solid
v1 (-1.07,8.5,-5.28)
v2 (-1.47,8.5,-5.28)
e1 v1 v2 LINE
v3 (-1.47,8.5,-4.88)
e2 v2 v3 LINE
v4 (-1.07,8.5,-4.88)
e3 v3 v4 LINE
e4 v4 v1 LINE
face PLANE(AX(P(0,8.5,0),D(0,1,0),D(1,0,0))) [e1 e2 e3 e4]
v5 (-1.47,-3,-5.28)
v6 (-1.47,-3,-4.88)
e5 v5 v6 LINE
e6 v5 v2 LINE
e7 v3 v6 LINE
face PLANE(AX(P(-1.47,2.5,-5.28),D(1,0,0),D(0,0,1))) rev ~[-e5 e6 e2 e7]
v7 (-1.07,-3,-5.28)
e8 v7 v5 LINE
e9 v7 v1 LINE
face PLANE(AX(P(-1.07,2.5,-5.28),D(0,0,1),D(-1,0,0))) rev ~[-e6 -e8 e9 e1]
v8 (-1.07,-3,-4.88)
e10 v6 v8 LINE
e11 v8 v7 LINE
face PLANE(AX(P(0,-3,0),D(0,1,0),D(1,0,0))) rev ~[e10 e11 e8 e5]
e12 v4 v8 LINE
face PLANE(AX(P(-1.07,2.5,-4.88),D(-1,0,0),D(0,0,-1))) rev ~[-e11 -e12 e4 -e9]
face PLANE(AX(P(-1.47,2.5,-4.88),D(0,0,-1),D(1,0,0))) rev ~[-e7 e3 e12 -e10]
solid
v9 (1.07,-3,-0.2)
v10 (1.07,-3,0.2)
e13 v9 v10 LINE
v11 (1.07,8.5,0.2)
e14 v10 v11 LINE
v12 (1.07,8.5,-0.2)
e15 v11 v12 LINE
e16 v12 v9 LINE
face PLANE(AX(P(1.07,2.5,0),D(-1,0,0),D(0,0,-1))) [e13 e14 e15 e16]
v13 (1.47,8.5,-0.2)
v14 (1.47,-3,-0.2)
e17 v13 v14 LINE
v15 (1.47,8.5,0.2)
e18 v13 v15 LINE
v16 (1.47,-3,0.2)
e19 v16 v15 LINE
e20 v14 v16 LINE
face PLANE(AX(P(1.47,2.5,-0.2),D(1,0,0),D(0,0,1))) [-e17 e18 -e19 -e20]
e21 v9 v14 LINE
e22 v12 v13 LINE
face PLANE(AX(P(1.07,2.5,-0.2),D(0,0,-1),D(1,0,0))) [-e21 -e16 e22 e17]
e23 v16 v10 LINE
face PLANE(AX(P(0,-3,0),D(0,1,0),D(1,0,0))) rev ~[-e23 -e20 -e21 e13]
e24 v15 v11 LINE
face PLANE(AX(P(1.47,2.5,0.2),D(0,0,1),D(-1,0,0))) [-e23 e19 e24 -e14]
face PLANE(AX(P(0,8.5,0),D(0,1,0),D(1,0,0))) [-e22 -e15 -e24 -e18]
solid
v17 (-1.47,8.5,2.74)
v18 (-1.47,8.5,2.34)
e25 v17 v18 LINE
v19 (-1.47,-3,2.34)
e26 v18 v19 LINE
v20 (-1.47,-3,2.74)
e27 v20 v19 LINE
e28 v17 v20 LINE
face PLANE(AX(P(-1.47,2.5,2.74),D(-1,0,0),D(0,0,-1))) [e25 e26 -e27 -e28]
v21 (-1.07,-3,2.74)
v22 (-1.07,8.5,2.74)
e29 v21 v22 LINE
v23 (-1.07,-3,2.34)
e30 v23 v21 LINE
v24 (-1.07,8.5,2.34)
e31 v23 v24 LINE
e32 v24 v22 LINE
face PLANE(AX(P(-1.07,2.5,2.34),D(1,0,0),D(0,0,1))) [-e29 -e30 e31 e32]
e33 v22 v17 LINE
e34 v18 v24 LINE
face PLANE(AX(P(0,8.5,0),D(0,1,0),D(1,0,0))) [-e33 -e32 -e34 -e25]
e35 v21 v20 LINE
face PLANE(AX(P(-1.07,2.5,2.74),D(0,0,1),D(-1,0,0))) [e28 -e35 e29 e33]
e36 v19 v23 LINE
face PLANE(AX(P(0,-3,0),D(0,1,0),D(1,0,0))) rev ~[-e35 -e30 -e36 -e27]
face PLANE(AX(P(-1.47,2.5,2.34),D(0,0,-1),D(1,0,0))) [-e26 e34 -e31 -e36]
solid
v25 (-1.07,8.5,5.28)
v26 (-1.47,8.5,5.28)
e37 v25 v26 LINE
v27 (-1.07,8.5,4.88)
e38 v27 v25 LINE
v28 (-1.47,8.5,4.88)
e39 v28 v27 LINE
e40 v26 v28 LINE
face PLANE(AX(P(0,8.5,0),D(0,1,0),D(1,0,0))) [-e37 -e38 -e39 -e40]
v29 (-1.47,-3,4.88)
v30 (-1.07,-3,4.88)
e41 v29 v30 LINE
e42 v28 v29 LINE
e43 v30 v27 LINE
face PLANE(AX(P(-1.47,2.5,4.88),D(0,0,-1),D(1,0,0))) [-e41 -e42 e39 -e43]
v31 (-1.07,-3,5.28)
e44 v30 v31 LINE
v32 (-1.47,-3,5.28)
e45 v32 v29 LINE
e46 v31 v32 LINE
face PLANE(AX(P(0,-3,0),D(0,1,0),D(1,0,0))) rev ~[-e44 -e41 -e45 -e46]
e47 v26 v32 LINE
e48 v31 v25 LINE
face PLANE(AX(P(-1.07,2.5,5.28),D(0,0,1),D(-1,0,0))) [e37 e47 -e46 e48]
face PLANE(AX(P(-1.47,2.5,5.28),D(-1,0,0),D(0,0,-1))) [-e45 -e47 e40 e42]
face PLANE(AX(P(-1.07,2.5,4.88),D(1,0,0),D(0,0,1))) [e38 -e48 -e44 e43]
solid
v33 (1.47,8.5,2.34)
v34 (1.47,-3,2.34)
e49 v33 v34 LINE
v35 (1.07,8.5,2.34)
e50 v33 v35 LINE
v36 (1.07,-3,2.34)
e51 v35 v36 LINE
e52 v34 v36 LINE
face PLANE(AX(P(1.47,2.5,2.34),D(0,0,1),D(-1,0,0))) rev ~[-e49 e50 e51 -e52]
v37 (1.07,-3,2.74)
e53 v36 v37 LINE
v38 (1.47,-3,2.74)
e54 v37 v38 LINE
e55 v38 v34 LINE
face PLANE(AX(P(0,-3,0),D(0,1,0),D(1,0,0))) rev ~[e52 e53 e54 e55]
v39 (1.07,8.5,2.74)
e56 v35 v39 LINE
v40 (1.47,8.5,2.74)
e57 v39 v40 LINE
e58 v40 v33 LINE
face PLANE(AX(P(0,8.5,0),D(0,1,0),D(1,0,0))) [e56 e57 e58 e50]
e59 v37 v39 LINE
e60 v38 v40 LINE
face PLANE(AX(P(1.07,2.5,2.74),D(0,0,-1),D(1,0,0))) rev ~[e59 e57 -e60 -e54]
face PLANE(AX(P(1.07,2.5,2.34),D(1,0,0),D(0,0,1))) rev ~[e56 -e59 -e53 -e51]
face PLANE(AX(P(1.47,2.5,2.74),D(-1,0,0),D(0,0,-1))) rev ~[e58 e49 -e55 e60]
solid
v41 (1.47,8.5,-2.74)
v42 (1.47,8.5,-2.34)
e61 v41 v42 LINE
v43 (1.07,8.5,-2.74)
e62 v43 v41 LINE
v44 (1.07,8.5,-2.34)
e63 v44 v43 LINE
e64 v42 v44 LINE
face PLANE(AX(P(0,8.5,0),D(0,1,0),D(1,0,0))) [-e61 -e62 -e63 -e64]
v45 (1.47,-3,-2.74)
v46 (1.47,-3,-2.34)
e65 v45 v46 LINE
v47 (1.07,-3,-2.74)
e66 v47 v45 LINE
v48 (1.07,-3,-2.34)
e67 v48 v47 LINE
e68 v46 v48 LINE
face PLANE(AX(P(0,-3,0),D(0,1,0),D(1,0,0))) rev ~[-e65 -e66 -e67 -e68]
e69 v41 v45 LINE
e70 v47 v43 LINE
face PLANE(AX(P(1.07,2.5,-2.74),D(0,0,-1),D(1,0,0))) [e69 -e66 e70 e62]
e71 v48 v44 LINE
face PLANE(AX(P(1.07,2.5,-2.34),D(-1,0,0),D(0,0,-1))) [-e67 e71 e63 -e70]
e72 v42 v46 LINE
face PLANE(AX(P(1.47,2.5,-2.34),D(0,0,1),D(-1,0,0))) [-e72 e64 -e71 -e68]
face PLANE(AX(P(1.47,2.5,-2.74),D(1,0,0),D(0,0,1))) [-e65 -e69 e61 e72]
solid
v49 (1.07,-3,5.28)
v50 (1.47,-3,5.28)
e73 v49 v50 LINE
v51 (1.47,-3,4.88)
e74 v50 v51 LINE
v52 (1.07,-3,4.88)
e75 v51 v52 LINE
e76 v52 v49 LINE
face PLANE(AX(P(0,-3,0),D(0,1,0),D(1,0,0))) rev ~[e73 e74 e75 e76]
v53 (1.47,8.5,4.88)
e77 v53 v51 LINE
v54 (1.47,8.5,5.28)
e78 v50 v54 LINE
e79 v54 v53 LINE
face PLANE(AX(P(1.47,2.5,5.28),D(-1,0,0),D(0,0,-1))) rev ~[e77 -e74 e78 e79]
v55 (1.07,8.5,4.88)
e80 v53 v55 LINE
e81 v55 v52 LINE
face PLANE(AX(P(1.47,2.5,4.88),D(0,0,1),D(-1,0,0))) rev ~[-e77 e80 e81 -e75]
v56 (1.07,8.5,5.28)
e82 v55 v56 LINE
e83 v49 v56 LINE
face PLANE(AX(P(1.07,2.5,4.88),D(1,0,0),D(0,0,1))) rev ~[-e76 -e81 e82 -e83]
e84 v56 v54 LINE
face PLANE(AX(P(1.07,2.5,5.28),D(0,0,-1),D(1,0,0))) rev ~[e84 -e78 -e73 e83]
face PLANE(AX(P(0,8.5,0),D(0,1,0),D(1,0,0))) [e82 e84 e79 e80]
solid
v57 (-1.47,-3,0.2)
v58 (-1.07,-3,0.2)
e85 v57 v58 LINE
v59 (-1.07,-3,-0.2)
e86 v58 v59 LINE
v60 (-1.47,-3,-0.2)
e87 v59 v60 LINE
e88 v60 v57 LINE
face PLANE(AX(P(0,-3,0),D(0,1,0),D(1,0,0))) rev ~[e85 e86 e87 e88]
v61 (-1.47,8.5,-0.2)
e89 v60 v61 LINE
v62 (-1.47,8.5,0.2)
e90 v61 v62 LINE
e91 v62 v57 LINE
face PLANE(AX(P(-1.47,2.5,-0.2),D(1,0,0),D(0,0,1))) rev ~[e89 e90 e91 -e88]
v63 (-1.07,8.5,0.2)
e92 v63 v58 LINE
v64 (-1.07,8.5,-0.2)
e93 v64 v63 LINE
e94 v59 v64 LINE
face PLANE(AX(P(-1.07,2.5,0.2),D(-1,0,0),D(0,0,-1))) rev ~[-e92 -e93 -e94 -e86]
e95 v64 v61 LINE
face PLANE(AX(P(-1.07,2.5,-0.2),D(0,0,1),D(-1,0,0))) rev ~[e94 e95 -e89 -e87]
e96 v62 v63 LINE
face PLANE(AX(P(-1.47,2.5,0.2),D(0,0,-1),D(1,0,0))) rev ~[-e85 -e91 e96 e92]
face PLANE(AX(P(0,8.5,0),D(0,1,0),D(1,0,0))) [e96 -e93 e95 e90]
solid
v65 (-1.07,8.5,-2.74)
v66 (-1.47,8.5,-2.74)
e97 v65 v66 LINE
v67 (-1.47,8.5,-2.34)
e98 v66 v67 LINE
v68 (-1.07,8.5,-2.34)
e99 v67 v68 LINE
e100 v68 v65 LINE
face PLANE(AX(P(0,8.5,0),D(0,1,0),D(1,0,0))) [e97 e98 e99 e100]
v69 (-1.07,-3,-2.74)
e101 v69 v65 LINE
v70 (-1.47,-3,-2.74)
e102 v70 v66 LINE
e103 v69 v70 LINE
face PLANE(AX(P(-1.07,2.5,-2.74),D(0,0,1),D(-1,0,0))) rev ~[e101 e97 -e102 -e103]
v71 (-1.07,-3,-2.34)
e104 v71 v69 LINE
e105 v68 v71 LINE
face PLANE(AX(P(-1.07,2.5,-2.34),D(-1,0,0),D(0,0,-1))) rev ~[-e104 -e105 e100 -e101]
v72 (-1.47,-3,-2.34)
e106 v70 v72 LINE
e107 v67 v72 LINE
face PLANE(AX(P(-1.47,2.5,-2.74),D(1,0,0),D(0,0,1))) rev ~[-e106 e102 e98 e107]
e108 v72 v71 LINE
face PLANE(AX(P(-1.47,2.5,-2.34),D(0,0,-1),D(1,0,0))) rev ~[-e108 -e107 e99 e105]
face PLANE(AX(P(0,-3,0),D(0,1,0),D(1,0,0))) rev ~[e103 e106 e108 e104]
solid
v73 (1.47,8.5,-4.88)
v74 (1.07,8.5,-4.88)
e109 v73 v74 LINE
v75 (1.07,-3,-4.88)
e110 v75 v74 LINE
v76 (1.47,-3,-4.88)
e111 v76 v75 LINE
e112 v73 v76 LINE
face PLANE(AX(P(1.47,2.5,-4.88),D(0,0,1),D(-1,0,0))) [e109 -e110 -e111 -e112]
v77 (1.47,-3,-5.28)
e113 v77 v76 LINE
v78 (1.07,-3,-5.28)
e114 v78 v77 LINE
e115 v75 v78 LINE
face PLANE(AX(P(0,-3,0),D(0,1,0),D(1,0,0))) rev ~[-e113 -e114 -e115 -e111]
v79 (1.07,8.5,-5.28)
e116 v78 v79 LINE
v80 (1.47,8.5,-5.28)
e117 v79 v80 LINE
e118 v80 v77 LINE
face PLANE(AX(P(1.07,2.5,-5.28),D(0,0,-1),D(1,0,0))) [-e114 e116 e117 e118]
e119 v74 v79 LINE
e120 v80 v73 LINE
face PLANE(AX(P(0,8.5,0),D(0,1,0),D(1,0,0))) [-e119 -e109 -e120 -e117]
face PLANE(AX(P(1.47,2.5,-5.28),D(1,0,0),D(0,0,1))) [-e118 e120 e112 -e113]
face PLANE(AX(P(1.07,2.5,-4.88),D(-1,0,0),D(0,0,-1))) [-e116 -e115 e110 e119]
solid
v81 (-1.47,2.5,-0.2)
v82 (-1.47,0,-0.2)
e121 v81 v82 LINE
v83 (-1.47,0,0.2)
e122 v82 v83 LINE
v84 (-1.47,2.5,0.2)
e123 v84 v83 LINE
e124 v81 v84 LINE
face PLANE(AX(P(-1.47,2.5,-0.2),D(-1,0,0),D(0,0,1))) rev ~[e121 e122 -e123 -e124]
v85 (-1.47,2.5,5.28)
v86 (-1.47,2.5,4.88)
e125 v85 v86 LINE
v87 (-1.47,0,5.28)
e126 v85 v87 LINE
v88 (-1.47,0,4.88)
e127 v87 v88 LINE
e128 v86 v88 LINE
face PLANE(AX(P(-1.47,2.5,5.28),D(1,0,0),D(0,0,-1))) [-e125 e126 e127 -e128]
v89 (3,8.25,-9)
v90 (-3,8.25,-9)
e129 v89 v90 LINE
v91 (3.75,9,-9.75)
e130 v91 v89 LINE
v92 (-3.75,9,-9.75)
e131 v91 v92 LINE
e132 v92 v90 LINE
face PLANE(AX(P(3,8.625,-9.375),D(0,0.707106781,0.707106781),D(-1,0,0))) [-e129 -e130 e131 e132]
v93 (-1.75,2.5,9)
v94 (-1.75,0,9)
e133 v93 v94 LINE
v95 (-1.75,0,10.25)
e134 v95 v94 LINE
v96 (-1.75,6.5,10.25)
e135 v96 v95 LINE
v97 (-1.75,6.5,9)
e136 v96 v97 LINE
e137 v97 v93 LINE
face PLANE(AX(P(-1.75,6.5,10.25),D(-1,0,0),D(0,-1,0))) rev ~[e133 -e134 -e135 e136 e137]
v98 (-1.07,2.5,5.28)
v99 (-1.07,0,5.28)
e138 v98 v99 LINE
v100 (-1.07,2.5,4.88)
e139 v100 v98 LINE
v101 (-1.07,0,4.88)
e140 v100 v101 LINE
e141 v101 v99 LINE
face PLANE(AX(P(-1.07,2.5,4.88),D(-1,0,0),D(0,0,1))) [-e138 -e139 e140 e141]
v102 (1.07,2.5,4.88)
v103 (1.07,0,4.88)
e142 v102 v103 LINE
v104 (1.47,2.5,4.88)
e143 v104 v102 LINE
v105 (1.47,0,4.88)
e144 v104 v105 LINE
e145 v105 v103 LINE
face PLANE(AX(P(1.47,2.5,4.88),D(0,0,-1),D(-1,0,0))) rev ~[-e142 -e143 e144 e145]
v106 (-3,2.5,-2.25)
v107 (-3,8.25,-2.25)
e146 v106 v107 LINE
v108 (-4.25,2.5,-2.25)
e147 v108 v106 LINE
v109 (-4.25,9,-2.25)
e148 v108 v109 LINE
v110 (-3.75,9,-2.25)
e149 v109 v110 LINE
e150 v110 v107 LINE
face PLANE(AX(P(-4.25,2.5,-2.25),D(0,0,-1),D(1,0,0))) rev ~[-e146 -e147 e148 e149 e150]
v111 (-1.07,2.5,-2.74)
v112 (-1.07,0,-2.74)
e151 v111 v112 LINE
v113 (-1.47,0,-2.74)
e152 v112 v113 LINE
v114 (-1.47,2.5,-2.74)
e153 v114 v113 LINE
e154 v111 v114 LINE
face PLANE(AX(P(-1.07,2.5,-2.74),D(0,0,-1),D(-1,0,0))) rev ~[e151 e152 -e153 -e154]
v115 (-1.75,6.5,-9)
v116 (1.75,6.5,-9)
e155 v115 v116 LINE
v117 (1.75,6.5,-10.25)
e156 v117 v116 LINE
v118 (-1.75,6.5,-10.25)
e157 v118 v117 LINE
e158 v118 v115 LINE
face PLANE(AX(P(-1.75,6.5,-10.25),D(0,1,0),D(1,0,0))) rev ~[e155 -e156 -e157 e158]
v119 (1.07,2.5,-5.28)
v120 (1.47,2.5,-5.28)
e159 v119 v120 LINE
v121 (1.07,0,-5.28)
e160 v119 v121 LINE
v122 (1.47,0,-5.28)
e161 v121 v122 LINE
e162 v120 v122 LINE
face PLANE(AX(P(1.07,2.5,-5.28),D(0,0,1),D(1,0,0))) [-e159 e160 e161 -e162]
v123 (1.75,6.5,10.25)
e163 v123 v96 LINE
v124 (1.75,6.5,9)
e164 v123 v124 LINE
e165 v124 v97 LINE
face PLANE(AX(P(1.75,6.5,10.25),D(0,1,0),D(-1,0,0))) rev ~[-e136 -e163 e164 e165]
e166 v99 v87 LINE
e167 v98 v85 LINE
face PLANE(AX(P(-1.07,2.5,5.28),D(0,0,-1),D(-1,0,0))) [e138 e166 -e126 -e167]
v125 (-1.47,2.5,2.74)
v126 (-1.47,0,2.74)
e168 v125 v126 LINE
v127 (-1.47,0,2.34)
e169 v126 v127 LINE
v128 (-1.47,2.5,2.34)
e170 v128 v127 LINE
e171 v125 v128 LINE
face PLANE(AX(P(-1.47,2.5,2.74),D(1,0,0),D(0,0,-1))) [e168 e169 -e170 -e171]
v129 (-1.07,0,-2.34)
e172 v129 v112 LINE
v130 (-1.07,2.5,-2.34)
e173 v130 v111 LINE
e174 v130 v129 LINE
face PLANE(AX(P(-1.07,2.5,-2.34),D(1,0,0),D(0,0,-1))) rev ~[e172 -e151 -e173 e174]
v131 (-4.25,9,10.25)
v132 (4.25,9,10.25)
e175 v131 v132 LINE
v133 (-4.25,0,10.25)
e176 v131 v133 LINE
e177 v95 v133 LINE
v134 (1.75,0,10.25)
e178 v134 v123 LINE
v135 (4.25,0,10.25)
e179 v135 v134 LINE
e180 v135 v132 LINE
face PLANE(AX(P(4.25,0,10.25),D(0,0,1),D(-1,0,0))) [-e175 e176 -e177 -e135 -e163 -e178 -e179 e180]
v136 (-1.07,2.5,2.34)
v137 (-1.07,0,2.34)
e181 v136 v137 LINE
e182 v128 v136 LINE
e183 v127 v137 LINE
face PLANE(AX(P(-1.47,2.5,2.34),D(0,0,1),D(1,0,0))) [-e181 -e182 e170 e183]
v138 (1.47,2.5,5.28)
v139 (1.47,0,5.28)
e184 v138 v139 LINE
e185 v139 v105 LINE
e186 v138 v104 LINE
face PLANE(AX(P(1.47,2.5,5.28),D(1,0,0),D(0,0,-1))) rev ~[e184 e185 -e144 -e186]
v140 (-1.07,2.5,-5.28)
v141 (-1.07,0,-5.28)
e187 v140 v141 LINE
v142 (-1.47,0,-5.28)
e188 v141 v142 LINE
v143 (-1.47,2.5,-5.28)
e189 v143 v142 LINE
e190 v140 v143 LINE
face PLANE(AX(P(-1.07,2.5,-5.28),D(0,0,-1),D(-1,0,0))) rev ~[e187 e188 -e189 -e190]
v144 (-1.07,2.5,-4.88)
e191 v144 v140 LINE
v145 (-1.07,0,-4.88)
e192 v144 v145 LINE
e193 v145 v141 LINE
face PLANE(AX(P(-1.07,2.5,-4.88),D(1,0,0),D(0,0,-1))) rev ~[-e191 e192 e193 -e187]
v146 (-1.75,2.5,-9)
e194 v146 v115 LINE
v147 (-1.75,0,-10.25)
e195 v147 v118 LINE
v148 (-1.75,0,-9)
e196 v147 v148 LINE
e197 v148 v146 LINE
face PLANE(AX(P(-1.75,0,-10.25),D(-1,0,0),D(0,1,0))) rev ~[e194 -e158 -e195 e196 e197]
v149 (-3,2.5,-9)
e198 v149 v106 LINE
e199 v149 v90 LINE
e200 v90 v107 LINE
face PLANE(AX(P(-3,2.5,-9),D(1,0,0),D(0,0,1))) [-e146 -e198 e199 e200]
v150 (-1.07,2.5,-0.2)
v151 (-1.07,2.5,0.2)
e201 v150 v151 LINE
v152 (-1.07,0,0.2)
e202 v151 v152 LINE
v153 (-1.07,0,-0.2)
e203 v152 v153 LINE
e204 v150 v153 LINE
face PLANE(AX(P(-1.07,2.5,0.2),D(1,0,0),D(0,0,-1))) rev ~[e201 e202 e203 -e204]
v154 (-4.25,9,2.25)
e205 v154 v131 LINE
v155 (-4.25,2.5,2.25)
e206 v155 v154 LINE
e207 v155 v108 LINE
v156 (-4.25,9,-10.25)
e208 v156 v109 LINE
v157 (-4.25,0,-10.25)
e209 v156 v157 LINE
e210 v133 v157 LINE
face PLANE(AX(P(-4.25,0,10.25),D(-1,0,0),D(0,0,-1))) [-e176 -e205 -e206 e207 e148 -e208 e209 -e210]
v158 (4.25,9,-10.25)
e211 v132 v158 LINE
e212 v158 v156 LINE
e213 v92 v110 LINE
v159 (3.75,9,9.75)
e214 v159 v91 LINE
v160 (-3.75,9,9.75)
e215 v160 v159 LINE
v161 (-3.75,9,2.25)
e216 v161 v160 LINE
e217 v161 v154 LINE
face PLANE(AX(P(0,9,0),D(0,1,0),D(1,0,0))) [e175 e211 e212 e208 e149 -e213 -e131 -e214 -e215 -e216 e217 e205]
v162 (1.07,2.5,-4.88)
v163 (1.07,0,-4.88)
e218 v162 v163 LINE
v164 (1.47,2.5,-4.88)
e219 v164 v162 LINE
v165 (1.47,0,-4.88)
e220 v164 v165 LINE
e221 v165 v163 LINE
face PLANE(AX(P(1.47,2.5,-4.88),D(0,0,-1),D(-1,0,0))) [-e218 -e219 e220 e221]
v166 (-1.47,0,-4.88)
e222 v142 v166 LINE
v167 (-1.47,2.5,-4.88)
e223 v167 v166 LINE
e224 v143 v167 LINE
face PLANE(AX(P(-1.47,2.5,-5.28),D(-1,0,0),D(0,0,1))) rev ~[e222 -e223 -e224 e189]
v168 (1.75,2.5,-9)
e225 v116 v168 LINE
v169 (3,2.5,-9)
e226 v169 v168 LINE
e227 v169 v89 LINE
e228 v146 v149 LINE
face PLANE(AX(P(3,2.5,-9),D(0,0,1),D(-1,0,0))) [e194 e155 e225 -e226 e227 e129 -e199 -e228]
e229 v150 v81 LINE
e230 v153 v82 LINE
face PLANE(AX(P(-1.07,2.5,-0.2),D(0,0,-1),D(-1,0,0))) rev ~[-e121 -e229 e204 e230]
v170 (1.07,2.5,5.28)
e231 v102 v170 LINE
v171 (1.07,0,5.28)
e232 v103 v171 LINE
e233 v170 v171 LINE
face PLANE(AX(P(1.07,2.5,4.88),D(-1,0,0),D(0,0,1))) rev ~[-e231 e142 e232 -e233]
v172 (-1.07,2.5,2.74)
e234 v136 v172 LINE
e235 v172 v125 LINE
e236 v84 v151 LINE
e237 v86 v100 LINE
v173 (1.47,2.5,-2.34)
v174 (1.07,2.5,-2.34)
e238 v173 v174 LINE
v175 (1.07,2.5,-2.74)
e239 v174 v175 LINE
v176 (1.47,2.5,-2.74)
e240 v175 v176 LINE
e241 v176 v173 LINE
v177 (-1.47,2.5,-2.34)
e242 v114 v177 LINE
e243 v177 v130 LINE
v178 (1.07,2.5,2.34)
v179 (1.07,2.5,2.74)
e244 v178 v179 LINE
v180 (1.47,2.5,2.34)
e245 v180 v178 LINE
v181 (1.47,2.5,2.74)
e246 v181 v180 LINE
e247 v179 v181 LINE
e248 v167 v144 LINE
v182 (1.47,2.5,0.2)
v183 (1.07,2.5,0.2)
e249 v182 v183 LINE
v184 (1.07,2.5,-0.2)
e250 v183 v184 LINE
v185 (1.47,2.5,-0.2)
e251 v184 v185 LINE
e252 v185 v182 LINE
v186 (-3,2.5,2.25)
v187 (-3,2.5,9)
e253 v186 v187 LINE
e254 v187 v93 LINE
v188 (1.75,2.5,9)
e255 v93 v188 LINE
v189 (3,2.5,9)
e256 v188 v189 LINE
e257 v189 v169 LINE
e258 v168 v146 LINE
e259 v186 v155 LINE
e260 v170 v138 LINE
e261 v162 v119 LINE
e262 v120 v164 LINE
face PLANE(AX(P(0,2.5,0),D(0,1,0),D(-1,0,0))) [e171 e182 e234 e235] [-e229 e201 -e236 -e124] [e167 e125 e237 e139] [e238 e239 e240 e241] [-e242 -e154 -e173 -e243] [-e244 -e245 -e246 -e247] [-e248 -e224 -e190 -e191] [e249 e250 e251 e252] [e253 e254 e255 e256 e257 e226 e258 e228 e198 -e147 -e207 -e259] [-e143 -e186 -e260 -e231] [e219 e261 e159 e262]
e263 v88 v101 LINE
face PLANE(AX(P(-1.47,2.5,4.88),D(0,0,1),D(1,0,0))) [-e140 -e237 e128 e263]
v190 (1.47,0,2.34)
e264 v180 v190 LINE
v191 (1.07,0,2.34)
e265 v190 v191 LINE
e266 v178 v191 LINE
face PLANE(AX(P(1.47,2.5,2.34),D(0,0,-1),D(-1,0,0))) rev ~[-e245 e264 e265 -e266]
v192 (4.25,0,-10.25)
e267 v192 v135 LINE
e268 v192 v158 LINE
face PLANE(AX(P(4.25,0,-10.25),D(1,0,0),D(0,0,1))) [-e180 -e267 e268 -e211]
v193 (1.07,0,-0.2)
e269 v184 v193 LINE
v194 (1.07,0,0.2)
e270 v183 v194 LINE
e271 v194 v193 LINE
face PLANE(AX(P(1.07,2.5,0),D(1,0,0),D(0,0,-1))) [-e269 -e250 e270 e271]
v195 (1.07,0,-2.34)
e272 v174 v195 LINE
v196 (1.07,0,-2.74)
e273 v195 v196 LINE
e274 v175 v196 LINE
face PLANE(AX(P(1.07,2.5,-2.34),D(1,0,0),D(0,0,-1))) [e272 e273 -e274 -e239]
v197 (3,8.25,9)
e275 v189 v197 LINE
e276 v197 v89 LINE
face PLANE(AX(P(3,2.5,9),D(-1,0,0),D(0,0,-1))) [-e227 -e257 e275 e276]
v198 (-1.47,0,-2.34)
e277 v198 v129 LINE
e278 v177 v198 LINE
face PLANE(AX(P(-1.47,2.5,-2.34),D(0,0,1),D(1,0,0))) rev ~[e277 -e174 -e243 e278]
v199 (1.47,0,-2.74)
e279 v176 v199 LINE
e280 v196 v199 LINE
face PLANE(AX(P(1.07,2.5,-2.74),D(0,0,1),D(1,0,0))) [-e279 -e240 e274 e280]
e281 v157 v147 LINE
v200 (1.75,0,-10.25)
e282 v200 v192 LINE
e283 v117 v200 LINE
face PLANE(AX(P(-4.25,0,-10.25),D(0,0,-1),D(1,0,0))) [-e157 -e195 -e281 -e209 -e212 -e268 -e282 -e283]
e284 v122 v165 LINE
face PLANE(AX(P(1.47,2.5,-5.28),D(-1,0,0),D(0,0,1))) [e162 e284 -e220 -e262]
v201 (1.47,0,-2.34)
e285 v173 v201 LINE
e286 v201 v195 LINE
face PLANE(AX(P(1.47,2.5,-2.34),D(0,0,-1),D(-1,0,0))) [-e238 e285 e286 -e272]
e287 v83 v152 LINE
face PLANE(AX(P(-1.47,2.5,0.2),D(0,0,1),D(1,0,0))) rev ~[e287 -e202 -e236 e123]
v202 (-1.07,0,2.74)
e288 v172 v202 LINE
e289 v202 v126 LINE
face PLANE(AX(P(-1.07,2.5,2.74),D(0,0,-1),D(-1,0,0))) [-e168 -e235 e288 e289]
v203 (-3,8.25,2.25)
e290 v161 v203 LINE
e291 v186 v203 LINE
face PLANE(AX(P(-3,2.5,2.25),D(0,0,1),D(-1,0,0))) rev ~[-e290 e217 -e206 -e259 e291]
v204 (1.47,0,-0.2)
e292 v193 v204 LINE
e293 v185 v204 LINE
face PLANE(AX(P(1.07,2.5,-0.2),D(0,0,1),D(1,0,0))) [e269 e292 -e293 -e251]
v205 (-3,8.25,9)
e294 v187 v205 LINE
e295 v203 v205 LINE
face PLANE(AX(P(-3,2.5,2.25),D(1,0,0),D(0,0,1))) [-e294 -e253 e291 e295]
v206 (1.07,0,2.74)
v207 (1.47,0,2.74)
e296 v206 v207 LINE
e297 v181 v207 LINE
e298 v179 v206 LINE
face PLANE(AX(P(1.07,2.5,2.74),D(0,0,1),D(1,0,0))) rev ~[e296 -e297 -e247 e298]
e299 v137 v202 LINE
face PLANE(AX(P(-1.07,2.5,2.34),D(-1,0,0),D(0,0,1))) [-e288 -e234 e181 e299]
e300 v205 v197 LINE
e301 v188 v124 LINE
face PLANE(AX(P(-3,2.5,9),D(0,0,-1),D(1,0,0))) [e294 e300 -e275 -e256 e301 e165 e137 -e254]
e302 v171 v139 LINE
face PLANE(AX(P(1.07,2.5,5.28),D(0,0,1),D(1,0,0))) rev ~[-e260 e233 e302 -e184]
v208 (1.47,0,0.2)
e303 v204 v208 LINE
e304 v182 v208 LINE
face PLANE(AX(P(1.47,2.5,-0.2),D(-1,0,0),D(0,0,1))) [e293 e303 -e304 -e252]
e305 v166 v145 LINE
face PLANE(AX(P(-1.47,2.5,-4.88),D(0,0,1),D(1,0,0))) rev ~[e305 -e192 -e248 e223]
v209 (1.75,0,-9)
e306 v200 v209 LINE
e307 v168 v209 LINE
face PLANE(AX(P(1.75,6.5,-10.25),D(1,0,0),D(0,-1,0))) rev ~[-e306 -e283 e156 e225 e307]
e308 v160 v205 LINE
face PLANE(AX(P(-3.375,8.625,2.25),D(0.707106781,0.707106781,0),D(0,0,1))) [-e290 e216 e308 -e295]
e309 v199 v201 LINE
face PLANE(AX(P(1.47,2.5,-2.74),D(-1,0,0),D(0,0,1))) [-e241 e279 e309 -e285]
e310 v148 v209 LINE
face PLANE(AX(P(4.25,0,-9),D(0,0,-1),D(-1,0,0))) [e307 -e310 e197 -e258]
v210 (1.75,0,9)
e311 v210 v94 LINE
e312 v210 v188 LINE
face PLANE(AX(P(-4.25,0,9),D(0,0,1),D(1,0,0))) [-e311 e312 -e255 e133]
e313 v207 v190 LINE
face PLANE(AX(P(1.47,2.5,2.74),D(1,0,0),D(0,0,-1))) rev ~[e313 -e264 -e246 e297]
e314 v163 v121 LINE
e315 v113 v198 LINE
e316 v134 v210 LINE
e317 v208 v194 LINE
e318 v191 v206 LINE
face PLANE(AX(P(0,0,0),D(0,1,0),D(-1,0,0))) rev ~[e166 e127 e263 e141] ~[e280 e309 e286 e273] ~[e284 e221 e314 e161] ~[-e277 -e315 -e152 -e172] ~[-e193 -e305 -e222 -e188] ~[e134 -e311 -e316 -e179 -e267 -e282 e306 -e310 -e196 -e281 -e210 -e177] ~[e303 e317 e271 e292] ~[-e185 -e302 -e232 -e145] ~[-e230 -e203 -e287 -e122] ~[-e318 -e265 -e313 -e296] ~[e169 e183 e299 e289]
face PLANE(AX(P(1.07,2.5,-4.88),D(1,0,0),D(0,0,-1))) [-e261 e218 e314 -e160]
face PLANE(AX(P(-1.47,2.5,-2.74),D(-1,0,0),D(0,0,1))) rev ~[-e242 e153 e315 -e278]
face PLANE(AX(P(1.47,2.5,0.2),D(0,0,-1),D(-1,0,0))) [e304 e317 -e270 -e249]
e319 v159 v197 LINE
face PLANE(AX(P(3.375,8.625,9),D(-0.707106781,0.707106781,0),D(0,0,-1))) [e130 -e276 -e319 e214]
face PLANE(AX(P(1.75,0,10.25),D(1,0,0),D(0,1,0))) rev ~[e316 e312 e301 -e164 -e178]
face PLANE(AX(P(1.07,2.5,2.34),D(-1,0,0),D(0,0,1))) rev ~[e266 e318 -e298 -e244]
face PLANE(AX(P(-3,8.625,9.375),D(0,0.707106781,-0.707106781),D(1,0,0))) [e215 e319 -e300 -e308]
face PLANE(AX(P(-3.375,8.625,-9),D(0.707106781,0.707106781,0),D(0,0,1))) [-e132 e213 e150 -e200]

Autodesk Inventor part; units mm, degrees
ref_plane "YZ Plane" through (0, 0, 0) normal (1, 0, 0) x (0, 1, 0)
ref_plane "XZ Plane" through (0, 0, 0) normal (0, 1, 0) x (-1, 0, 0)
ref_plane "XY Plane" through (0, 0, 0) normal (0, 0, 1) x (1, 0, 0)
sketch "Sketch1" plane through (0, 0, 0) normal (0, 1, 0) x (-1, 0, 0)
  line L0 (-4.25, 10.25) -> (4.25, 10.25)
  line L1 (4.25, 10.25) -> (4.25, -10.25)
  line L2 (4.25, -10.25) -> (-4.25, -10.25)
  line L3 (-4.25, -10.25) -> (-4.25, 10.25)
  line L4 (-4.25, 10.25) -> (4.25, -10.25) construction
  line L5 (4.25, 10.25) -> (-4.25, -10.25) construction
  point P0 (0, 0)
  dimension "d0" = 8.5
  dimension "d1" = 20.5
extrude "Extrusion1" add sketch "Sketch1" along normal blind 2.5
sketch "Sketch2" plane through (0, 2.5, 0) normal (0, 1, 0) x (1, 0, 0)
  line L0 (-4.25, -10.25) -> (4.25, -10.25) projected
  line L1 (4.25, -10.25) -> (4.25, 10.25) projected
  line L2 (-4.25, -10.25) -> (4.25, -10.25)
  line L3 (4.25, -10.25) -> (4.25, 10.25)
  line L4 (4.25, 10.25) -> (-4.25, 10.25)
  line L5 (-4.25, 10.25) -> (-4.25, -10.25)
  line L6 (-3, -9) -> (3, -9)
  line L7 (3, -9) -> (3, 9)
  line L8 (3, 9) -> (-3, 9)
  line L9 (-3, 9) -> (-3, -9)
  line L10 (-3, -9) -> (3, 9) construction
  line L11 (3, -9) -> (-3, 9) construction
  line L12 (-4.25, 10.25) -> (-4.25, -10.25) projected
  line L13 (-4.25, 0) -> (-3, 0)
  line L14 (-3, -2.25) -> (-4.25, -2.25)
  line L15 (-4.25, -2.25) -> (-4.25, 2.25)
  line L16 (-4.25, 2.25) -> (-3, 2.25)
  line L17 (-3, 2.25) -> (-3, -2.25)
  line L18 (-3, -2.25) -> (-4.25, 2.25) construction
  line L19 (-4.25, -2.25) -> (-3, 2.25) construction
  point P0 (0, 0)
  point P1 (-3.625, 0)
  dimension "d4" = 6
  dimension "d5" = 18
  dimension "d6" = 4.5
extrude "Extrusion2" add sketch "Sketch2" along normal blind 6.5 contours L5 L14 L9 L6 L7 L8 L16 L4 L1 L0
sketch "Sketch3" plane through (-4.25, 0, 10.25) normal (0, 0, 1) x (1, 0, 0)
  line L0 (4.25, 0) -> (4.25, 3.25)
  line L1 (2.5, 0) -> (6, 0)
  line L2 (6, 0) -> (6, 6.5)
  line L3 (6, 6.5) -> (2.5, 6.5)
  line L4 (2.5, 6.5) -> (2.5, 0)
  line L5 (2.5, 0) -> (6, 6.5) construction
  line L6 (6, 0) -> (2.5, 6.5) construction
  dimension "d9" = 3.25
  dimension "d10" = 3.5
  dimension "d11" = 6.5
extrude "Extrusion3" cut sketch "Sketch3" against normal blind 1.25
sketch "Sketch4" plane through (4.25, 0, -10.25) normal (0, 0, -1) x (-1, 0, 0)
  line L0 (4.25, 0) -> (4.25, 3.25)
  line L1 (2.5, 0) -> (6, 0)
  line L2 (6, 0) -> (6, 6.5)
  line L3 (6, 6.5) -> (2.5, 6.5)
  line L4 (2.5, 6.5) -> (2.5, 0)
  line L5 (2.5, 0) -> (6, 6.5) construction
  line L6 (6, 0) -> (2.5, 6.5) construction
  dimension "d14" = 3.25
  dimension "d15" = 3.5
  dimension "d16" = 6.5
extrude "Extrusion4" cut sketch "Sketch4" against normal blind 1.25
chamfer "Chamfer1" distance 0.75 angle 45 5 edges at (3, 9, 0) (0, 9, 9) (-3, 9, 5.625) (-3, 9, -5.625) (0, 9, -9)
sketch "Sketch5" plane through (0, 2.5, 0) normal (0, 1, 0) x (1, 0, 0)
  line L0 (1.27, 0) -> (-1.27, 0)
  line L1 (1.07, 5.28) -> (1.47, 5.28)
  line L2 (1.47, 5.28) -> (1.47, 4.88)
  line L3 (1.47, 4.88) -> (1.07, 4.88)
  line L4 (1.07, 4.88) -> (1.07, 5.28)
  line L5 (1.07, 5.28) -> (1.47, 4.88) construction
  line L6 (1.47, 5.28) -> (1.07, 4.88) construction
  line L7 (-1.07, 5.28) -> (-1.47, 5.28)
  line L8 (-1.47, 5.28) -> (-1.47, 4.88)
  line L9 (-1.47, 4.88) -> (-1.07, 4.88)
  line L10 (-1.07, 4.88) -> (-1.07, 5.28)
  line L11 (-1.07, 5.28) -> (-1.47, 4.88) construction
  line L12 (-1.47, 5.28) -> (-1.07, 4.88) construction
  line L13 (1.07, 2.74) -> (1.47, 2.74)
  line L14 (1.47, 2.74) -> (1.47, 2.34)
  line L15 (1.47, 2.34) -> (1.07, 2.34)
  line L16 (1.07, 2.34) -> (1.07, 2.74)
  line L17 (1.07, 2.74) -> (1.47, 2.34) construction
  line L18 (1.47, 2.74) -> (1.07, 2.34) construction
  line L19 (-1.07, 2.74) -> (-1.47, 2.74)
  line L20 (-1.47, 2.74) -> (-1.47, 2.34)
  line L21 (-1.47, 2.34) -> (-1.07, 2.34)
  line L22 (-1.07, 2.34) -> (-1.07, 2.74)
  line L23 (-1.07, 2.74) -> (-1.47, 2.34) construction
  line L24 (-1.47, 2.74) -> (-1.07, 2.34) construction
  line L25 (1.07, 0.2) -> (1.47, 0.2)
  line L26 (1.47, 0.2) -> (1.47, -0.2)
  line L27 (1.47, -0.2) -> (1.07, -0.2)
  line L28 (1.07, -0.2) -> (1.07, 0.2)
  line L29 (1.07, 0.2) -> (1.47, -0.2) construction
  line L30 (1.47, 0.2) -> (1.07, -0.2) construction
  line L31 (-1.07, 0.2) -> (-1.47, 0.2)
  line L32 (-1.47, 0.2) -> (-1.47, -0.2)
  line L33 (-1.47, -0.2) -> (-1.07, -0.2)
  line L34 (-1.07, -0.2) -> (-1.07, 0.2)
  line L35 (-1.07, 0.2) -> (-1.47, -0.2) construction
  line L36 (-1.47, 0.2) -> (-1.07, -0.2) construction
  line L37 (1.07, -5.28) -> (1.47, -5.28)
  line L38 (1.47, -5.28) -> (1.47, -4.88)
  line L39 (1.47, -4.88) -> (1.07, -4.88)
  line L40 (1.07, -4.88) -> (1.07, -5.28)
  line L41 (-1.07, -5.28) -> (-1.47, -5.28)
  line L42 (-1.47, -5.28) -> (-1.47, -4.88)
  line L43 (-1.47, -4.88) -> (-1.07, -4.88)
  line L44 (-1.07, -4.88) -> (-1.07, -5.28)
  line L45 (1.07, -2.74) -> (1.47, -2.74)
  line L46 (1.47, -2.74) -> (1.47, -2.34)
  line L47 (1.47, -2.34) -> (1.07, -2.34)
  line L48 (1.07, -2.34) -> (1.07, -2.74)
  line L49 (-1.07, -2.74) -> (-1.47, -2.74)
  line L50 (-1.47, -2.74) -> (-1.47, -2.34)
  line L51 (-1.47, -2.34) -> (-1.07, -2.34)
  line L52 (-1.07, -2.34) -> (-1.07, -2.74)
  point P0 (0, 0)
  dimension "d22" = 1.27
  dimension "d27" = 0.4
  dimension "d28" = 0.4
  dimension "d29" = 0.4
  dimension "d30" = 0.4
  dimension "d31" = 0.4
  dimension "d32" = 0.4
  dimension "d33" = 0.4
  dimension "d34" = 0.4
  dimension "d35" = 0.4
  dimension "d36" = 0.4
extrude "Extrusion5" cut sketch "Sketch5" against normal blind 6
extrude "Extrusion6" add sketch "Sketch5" along normal blind 6 and the other way blind 5.5 separate body
properties part number "IDC_8_pin_connector"
